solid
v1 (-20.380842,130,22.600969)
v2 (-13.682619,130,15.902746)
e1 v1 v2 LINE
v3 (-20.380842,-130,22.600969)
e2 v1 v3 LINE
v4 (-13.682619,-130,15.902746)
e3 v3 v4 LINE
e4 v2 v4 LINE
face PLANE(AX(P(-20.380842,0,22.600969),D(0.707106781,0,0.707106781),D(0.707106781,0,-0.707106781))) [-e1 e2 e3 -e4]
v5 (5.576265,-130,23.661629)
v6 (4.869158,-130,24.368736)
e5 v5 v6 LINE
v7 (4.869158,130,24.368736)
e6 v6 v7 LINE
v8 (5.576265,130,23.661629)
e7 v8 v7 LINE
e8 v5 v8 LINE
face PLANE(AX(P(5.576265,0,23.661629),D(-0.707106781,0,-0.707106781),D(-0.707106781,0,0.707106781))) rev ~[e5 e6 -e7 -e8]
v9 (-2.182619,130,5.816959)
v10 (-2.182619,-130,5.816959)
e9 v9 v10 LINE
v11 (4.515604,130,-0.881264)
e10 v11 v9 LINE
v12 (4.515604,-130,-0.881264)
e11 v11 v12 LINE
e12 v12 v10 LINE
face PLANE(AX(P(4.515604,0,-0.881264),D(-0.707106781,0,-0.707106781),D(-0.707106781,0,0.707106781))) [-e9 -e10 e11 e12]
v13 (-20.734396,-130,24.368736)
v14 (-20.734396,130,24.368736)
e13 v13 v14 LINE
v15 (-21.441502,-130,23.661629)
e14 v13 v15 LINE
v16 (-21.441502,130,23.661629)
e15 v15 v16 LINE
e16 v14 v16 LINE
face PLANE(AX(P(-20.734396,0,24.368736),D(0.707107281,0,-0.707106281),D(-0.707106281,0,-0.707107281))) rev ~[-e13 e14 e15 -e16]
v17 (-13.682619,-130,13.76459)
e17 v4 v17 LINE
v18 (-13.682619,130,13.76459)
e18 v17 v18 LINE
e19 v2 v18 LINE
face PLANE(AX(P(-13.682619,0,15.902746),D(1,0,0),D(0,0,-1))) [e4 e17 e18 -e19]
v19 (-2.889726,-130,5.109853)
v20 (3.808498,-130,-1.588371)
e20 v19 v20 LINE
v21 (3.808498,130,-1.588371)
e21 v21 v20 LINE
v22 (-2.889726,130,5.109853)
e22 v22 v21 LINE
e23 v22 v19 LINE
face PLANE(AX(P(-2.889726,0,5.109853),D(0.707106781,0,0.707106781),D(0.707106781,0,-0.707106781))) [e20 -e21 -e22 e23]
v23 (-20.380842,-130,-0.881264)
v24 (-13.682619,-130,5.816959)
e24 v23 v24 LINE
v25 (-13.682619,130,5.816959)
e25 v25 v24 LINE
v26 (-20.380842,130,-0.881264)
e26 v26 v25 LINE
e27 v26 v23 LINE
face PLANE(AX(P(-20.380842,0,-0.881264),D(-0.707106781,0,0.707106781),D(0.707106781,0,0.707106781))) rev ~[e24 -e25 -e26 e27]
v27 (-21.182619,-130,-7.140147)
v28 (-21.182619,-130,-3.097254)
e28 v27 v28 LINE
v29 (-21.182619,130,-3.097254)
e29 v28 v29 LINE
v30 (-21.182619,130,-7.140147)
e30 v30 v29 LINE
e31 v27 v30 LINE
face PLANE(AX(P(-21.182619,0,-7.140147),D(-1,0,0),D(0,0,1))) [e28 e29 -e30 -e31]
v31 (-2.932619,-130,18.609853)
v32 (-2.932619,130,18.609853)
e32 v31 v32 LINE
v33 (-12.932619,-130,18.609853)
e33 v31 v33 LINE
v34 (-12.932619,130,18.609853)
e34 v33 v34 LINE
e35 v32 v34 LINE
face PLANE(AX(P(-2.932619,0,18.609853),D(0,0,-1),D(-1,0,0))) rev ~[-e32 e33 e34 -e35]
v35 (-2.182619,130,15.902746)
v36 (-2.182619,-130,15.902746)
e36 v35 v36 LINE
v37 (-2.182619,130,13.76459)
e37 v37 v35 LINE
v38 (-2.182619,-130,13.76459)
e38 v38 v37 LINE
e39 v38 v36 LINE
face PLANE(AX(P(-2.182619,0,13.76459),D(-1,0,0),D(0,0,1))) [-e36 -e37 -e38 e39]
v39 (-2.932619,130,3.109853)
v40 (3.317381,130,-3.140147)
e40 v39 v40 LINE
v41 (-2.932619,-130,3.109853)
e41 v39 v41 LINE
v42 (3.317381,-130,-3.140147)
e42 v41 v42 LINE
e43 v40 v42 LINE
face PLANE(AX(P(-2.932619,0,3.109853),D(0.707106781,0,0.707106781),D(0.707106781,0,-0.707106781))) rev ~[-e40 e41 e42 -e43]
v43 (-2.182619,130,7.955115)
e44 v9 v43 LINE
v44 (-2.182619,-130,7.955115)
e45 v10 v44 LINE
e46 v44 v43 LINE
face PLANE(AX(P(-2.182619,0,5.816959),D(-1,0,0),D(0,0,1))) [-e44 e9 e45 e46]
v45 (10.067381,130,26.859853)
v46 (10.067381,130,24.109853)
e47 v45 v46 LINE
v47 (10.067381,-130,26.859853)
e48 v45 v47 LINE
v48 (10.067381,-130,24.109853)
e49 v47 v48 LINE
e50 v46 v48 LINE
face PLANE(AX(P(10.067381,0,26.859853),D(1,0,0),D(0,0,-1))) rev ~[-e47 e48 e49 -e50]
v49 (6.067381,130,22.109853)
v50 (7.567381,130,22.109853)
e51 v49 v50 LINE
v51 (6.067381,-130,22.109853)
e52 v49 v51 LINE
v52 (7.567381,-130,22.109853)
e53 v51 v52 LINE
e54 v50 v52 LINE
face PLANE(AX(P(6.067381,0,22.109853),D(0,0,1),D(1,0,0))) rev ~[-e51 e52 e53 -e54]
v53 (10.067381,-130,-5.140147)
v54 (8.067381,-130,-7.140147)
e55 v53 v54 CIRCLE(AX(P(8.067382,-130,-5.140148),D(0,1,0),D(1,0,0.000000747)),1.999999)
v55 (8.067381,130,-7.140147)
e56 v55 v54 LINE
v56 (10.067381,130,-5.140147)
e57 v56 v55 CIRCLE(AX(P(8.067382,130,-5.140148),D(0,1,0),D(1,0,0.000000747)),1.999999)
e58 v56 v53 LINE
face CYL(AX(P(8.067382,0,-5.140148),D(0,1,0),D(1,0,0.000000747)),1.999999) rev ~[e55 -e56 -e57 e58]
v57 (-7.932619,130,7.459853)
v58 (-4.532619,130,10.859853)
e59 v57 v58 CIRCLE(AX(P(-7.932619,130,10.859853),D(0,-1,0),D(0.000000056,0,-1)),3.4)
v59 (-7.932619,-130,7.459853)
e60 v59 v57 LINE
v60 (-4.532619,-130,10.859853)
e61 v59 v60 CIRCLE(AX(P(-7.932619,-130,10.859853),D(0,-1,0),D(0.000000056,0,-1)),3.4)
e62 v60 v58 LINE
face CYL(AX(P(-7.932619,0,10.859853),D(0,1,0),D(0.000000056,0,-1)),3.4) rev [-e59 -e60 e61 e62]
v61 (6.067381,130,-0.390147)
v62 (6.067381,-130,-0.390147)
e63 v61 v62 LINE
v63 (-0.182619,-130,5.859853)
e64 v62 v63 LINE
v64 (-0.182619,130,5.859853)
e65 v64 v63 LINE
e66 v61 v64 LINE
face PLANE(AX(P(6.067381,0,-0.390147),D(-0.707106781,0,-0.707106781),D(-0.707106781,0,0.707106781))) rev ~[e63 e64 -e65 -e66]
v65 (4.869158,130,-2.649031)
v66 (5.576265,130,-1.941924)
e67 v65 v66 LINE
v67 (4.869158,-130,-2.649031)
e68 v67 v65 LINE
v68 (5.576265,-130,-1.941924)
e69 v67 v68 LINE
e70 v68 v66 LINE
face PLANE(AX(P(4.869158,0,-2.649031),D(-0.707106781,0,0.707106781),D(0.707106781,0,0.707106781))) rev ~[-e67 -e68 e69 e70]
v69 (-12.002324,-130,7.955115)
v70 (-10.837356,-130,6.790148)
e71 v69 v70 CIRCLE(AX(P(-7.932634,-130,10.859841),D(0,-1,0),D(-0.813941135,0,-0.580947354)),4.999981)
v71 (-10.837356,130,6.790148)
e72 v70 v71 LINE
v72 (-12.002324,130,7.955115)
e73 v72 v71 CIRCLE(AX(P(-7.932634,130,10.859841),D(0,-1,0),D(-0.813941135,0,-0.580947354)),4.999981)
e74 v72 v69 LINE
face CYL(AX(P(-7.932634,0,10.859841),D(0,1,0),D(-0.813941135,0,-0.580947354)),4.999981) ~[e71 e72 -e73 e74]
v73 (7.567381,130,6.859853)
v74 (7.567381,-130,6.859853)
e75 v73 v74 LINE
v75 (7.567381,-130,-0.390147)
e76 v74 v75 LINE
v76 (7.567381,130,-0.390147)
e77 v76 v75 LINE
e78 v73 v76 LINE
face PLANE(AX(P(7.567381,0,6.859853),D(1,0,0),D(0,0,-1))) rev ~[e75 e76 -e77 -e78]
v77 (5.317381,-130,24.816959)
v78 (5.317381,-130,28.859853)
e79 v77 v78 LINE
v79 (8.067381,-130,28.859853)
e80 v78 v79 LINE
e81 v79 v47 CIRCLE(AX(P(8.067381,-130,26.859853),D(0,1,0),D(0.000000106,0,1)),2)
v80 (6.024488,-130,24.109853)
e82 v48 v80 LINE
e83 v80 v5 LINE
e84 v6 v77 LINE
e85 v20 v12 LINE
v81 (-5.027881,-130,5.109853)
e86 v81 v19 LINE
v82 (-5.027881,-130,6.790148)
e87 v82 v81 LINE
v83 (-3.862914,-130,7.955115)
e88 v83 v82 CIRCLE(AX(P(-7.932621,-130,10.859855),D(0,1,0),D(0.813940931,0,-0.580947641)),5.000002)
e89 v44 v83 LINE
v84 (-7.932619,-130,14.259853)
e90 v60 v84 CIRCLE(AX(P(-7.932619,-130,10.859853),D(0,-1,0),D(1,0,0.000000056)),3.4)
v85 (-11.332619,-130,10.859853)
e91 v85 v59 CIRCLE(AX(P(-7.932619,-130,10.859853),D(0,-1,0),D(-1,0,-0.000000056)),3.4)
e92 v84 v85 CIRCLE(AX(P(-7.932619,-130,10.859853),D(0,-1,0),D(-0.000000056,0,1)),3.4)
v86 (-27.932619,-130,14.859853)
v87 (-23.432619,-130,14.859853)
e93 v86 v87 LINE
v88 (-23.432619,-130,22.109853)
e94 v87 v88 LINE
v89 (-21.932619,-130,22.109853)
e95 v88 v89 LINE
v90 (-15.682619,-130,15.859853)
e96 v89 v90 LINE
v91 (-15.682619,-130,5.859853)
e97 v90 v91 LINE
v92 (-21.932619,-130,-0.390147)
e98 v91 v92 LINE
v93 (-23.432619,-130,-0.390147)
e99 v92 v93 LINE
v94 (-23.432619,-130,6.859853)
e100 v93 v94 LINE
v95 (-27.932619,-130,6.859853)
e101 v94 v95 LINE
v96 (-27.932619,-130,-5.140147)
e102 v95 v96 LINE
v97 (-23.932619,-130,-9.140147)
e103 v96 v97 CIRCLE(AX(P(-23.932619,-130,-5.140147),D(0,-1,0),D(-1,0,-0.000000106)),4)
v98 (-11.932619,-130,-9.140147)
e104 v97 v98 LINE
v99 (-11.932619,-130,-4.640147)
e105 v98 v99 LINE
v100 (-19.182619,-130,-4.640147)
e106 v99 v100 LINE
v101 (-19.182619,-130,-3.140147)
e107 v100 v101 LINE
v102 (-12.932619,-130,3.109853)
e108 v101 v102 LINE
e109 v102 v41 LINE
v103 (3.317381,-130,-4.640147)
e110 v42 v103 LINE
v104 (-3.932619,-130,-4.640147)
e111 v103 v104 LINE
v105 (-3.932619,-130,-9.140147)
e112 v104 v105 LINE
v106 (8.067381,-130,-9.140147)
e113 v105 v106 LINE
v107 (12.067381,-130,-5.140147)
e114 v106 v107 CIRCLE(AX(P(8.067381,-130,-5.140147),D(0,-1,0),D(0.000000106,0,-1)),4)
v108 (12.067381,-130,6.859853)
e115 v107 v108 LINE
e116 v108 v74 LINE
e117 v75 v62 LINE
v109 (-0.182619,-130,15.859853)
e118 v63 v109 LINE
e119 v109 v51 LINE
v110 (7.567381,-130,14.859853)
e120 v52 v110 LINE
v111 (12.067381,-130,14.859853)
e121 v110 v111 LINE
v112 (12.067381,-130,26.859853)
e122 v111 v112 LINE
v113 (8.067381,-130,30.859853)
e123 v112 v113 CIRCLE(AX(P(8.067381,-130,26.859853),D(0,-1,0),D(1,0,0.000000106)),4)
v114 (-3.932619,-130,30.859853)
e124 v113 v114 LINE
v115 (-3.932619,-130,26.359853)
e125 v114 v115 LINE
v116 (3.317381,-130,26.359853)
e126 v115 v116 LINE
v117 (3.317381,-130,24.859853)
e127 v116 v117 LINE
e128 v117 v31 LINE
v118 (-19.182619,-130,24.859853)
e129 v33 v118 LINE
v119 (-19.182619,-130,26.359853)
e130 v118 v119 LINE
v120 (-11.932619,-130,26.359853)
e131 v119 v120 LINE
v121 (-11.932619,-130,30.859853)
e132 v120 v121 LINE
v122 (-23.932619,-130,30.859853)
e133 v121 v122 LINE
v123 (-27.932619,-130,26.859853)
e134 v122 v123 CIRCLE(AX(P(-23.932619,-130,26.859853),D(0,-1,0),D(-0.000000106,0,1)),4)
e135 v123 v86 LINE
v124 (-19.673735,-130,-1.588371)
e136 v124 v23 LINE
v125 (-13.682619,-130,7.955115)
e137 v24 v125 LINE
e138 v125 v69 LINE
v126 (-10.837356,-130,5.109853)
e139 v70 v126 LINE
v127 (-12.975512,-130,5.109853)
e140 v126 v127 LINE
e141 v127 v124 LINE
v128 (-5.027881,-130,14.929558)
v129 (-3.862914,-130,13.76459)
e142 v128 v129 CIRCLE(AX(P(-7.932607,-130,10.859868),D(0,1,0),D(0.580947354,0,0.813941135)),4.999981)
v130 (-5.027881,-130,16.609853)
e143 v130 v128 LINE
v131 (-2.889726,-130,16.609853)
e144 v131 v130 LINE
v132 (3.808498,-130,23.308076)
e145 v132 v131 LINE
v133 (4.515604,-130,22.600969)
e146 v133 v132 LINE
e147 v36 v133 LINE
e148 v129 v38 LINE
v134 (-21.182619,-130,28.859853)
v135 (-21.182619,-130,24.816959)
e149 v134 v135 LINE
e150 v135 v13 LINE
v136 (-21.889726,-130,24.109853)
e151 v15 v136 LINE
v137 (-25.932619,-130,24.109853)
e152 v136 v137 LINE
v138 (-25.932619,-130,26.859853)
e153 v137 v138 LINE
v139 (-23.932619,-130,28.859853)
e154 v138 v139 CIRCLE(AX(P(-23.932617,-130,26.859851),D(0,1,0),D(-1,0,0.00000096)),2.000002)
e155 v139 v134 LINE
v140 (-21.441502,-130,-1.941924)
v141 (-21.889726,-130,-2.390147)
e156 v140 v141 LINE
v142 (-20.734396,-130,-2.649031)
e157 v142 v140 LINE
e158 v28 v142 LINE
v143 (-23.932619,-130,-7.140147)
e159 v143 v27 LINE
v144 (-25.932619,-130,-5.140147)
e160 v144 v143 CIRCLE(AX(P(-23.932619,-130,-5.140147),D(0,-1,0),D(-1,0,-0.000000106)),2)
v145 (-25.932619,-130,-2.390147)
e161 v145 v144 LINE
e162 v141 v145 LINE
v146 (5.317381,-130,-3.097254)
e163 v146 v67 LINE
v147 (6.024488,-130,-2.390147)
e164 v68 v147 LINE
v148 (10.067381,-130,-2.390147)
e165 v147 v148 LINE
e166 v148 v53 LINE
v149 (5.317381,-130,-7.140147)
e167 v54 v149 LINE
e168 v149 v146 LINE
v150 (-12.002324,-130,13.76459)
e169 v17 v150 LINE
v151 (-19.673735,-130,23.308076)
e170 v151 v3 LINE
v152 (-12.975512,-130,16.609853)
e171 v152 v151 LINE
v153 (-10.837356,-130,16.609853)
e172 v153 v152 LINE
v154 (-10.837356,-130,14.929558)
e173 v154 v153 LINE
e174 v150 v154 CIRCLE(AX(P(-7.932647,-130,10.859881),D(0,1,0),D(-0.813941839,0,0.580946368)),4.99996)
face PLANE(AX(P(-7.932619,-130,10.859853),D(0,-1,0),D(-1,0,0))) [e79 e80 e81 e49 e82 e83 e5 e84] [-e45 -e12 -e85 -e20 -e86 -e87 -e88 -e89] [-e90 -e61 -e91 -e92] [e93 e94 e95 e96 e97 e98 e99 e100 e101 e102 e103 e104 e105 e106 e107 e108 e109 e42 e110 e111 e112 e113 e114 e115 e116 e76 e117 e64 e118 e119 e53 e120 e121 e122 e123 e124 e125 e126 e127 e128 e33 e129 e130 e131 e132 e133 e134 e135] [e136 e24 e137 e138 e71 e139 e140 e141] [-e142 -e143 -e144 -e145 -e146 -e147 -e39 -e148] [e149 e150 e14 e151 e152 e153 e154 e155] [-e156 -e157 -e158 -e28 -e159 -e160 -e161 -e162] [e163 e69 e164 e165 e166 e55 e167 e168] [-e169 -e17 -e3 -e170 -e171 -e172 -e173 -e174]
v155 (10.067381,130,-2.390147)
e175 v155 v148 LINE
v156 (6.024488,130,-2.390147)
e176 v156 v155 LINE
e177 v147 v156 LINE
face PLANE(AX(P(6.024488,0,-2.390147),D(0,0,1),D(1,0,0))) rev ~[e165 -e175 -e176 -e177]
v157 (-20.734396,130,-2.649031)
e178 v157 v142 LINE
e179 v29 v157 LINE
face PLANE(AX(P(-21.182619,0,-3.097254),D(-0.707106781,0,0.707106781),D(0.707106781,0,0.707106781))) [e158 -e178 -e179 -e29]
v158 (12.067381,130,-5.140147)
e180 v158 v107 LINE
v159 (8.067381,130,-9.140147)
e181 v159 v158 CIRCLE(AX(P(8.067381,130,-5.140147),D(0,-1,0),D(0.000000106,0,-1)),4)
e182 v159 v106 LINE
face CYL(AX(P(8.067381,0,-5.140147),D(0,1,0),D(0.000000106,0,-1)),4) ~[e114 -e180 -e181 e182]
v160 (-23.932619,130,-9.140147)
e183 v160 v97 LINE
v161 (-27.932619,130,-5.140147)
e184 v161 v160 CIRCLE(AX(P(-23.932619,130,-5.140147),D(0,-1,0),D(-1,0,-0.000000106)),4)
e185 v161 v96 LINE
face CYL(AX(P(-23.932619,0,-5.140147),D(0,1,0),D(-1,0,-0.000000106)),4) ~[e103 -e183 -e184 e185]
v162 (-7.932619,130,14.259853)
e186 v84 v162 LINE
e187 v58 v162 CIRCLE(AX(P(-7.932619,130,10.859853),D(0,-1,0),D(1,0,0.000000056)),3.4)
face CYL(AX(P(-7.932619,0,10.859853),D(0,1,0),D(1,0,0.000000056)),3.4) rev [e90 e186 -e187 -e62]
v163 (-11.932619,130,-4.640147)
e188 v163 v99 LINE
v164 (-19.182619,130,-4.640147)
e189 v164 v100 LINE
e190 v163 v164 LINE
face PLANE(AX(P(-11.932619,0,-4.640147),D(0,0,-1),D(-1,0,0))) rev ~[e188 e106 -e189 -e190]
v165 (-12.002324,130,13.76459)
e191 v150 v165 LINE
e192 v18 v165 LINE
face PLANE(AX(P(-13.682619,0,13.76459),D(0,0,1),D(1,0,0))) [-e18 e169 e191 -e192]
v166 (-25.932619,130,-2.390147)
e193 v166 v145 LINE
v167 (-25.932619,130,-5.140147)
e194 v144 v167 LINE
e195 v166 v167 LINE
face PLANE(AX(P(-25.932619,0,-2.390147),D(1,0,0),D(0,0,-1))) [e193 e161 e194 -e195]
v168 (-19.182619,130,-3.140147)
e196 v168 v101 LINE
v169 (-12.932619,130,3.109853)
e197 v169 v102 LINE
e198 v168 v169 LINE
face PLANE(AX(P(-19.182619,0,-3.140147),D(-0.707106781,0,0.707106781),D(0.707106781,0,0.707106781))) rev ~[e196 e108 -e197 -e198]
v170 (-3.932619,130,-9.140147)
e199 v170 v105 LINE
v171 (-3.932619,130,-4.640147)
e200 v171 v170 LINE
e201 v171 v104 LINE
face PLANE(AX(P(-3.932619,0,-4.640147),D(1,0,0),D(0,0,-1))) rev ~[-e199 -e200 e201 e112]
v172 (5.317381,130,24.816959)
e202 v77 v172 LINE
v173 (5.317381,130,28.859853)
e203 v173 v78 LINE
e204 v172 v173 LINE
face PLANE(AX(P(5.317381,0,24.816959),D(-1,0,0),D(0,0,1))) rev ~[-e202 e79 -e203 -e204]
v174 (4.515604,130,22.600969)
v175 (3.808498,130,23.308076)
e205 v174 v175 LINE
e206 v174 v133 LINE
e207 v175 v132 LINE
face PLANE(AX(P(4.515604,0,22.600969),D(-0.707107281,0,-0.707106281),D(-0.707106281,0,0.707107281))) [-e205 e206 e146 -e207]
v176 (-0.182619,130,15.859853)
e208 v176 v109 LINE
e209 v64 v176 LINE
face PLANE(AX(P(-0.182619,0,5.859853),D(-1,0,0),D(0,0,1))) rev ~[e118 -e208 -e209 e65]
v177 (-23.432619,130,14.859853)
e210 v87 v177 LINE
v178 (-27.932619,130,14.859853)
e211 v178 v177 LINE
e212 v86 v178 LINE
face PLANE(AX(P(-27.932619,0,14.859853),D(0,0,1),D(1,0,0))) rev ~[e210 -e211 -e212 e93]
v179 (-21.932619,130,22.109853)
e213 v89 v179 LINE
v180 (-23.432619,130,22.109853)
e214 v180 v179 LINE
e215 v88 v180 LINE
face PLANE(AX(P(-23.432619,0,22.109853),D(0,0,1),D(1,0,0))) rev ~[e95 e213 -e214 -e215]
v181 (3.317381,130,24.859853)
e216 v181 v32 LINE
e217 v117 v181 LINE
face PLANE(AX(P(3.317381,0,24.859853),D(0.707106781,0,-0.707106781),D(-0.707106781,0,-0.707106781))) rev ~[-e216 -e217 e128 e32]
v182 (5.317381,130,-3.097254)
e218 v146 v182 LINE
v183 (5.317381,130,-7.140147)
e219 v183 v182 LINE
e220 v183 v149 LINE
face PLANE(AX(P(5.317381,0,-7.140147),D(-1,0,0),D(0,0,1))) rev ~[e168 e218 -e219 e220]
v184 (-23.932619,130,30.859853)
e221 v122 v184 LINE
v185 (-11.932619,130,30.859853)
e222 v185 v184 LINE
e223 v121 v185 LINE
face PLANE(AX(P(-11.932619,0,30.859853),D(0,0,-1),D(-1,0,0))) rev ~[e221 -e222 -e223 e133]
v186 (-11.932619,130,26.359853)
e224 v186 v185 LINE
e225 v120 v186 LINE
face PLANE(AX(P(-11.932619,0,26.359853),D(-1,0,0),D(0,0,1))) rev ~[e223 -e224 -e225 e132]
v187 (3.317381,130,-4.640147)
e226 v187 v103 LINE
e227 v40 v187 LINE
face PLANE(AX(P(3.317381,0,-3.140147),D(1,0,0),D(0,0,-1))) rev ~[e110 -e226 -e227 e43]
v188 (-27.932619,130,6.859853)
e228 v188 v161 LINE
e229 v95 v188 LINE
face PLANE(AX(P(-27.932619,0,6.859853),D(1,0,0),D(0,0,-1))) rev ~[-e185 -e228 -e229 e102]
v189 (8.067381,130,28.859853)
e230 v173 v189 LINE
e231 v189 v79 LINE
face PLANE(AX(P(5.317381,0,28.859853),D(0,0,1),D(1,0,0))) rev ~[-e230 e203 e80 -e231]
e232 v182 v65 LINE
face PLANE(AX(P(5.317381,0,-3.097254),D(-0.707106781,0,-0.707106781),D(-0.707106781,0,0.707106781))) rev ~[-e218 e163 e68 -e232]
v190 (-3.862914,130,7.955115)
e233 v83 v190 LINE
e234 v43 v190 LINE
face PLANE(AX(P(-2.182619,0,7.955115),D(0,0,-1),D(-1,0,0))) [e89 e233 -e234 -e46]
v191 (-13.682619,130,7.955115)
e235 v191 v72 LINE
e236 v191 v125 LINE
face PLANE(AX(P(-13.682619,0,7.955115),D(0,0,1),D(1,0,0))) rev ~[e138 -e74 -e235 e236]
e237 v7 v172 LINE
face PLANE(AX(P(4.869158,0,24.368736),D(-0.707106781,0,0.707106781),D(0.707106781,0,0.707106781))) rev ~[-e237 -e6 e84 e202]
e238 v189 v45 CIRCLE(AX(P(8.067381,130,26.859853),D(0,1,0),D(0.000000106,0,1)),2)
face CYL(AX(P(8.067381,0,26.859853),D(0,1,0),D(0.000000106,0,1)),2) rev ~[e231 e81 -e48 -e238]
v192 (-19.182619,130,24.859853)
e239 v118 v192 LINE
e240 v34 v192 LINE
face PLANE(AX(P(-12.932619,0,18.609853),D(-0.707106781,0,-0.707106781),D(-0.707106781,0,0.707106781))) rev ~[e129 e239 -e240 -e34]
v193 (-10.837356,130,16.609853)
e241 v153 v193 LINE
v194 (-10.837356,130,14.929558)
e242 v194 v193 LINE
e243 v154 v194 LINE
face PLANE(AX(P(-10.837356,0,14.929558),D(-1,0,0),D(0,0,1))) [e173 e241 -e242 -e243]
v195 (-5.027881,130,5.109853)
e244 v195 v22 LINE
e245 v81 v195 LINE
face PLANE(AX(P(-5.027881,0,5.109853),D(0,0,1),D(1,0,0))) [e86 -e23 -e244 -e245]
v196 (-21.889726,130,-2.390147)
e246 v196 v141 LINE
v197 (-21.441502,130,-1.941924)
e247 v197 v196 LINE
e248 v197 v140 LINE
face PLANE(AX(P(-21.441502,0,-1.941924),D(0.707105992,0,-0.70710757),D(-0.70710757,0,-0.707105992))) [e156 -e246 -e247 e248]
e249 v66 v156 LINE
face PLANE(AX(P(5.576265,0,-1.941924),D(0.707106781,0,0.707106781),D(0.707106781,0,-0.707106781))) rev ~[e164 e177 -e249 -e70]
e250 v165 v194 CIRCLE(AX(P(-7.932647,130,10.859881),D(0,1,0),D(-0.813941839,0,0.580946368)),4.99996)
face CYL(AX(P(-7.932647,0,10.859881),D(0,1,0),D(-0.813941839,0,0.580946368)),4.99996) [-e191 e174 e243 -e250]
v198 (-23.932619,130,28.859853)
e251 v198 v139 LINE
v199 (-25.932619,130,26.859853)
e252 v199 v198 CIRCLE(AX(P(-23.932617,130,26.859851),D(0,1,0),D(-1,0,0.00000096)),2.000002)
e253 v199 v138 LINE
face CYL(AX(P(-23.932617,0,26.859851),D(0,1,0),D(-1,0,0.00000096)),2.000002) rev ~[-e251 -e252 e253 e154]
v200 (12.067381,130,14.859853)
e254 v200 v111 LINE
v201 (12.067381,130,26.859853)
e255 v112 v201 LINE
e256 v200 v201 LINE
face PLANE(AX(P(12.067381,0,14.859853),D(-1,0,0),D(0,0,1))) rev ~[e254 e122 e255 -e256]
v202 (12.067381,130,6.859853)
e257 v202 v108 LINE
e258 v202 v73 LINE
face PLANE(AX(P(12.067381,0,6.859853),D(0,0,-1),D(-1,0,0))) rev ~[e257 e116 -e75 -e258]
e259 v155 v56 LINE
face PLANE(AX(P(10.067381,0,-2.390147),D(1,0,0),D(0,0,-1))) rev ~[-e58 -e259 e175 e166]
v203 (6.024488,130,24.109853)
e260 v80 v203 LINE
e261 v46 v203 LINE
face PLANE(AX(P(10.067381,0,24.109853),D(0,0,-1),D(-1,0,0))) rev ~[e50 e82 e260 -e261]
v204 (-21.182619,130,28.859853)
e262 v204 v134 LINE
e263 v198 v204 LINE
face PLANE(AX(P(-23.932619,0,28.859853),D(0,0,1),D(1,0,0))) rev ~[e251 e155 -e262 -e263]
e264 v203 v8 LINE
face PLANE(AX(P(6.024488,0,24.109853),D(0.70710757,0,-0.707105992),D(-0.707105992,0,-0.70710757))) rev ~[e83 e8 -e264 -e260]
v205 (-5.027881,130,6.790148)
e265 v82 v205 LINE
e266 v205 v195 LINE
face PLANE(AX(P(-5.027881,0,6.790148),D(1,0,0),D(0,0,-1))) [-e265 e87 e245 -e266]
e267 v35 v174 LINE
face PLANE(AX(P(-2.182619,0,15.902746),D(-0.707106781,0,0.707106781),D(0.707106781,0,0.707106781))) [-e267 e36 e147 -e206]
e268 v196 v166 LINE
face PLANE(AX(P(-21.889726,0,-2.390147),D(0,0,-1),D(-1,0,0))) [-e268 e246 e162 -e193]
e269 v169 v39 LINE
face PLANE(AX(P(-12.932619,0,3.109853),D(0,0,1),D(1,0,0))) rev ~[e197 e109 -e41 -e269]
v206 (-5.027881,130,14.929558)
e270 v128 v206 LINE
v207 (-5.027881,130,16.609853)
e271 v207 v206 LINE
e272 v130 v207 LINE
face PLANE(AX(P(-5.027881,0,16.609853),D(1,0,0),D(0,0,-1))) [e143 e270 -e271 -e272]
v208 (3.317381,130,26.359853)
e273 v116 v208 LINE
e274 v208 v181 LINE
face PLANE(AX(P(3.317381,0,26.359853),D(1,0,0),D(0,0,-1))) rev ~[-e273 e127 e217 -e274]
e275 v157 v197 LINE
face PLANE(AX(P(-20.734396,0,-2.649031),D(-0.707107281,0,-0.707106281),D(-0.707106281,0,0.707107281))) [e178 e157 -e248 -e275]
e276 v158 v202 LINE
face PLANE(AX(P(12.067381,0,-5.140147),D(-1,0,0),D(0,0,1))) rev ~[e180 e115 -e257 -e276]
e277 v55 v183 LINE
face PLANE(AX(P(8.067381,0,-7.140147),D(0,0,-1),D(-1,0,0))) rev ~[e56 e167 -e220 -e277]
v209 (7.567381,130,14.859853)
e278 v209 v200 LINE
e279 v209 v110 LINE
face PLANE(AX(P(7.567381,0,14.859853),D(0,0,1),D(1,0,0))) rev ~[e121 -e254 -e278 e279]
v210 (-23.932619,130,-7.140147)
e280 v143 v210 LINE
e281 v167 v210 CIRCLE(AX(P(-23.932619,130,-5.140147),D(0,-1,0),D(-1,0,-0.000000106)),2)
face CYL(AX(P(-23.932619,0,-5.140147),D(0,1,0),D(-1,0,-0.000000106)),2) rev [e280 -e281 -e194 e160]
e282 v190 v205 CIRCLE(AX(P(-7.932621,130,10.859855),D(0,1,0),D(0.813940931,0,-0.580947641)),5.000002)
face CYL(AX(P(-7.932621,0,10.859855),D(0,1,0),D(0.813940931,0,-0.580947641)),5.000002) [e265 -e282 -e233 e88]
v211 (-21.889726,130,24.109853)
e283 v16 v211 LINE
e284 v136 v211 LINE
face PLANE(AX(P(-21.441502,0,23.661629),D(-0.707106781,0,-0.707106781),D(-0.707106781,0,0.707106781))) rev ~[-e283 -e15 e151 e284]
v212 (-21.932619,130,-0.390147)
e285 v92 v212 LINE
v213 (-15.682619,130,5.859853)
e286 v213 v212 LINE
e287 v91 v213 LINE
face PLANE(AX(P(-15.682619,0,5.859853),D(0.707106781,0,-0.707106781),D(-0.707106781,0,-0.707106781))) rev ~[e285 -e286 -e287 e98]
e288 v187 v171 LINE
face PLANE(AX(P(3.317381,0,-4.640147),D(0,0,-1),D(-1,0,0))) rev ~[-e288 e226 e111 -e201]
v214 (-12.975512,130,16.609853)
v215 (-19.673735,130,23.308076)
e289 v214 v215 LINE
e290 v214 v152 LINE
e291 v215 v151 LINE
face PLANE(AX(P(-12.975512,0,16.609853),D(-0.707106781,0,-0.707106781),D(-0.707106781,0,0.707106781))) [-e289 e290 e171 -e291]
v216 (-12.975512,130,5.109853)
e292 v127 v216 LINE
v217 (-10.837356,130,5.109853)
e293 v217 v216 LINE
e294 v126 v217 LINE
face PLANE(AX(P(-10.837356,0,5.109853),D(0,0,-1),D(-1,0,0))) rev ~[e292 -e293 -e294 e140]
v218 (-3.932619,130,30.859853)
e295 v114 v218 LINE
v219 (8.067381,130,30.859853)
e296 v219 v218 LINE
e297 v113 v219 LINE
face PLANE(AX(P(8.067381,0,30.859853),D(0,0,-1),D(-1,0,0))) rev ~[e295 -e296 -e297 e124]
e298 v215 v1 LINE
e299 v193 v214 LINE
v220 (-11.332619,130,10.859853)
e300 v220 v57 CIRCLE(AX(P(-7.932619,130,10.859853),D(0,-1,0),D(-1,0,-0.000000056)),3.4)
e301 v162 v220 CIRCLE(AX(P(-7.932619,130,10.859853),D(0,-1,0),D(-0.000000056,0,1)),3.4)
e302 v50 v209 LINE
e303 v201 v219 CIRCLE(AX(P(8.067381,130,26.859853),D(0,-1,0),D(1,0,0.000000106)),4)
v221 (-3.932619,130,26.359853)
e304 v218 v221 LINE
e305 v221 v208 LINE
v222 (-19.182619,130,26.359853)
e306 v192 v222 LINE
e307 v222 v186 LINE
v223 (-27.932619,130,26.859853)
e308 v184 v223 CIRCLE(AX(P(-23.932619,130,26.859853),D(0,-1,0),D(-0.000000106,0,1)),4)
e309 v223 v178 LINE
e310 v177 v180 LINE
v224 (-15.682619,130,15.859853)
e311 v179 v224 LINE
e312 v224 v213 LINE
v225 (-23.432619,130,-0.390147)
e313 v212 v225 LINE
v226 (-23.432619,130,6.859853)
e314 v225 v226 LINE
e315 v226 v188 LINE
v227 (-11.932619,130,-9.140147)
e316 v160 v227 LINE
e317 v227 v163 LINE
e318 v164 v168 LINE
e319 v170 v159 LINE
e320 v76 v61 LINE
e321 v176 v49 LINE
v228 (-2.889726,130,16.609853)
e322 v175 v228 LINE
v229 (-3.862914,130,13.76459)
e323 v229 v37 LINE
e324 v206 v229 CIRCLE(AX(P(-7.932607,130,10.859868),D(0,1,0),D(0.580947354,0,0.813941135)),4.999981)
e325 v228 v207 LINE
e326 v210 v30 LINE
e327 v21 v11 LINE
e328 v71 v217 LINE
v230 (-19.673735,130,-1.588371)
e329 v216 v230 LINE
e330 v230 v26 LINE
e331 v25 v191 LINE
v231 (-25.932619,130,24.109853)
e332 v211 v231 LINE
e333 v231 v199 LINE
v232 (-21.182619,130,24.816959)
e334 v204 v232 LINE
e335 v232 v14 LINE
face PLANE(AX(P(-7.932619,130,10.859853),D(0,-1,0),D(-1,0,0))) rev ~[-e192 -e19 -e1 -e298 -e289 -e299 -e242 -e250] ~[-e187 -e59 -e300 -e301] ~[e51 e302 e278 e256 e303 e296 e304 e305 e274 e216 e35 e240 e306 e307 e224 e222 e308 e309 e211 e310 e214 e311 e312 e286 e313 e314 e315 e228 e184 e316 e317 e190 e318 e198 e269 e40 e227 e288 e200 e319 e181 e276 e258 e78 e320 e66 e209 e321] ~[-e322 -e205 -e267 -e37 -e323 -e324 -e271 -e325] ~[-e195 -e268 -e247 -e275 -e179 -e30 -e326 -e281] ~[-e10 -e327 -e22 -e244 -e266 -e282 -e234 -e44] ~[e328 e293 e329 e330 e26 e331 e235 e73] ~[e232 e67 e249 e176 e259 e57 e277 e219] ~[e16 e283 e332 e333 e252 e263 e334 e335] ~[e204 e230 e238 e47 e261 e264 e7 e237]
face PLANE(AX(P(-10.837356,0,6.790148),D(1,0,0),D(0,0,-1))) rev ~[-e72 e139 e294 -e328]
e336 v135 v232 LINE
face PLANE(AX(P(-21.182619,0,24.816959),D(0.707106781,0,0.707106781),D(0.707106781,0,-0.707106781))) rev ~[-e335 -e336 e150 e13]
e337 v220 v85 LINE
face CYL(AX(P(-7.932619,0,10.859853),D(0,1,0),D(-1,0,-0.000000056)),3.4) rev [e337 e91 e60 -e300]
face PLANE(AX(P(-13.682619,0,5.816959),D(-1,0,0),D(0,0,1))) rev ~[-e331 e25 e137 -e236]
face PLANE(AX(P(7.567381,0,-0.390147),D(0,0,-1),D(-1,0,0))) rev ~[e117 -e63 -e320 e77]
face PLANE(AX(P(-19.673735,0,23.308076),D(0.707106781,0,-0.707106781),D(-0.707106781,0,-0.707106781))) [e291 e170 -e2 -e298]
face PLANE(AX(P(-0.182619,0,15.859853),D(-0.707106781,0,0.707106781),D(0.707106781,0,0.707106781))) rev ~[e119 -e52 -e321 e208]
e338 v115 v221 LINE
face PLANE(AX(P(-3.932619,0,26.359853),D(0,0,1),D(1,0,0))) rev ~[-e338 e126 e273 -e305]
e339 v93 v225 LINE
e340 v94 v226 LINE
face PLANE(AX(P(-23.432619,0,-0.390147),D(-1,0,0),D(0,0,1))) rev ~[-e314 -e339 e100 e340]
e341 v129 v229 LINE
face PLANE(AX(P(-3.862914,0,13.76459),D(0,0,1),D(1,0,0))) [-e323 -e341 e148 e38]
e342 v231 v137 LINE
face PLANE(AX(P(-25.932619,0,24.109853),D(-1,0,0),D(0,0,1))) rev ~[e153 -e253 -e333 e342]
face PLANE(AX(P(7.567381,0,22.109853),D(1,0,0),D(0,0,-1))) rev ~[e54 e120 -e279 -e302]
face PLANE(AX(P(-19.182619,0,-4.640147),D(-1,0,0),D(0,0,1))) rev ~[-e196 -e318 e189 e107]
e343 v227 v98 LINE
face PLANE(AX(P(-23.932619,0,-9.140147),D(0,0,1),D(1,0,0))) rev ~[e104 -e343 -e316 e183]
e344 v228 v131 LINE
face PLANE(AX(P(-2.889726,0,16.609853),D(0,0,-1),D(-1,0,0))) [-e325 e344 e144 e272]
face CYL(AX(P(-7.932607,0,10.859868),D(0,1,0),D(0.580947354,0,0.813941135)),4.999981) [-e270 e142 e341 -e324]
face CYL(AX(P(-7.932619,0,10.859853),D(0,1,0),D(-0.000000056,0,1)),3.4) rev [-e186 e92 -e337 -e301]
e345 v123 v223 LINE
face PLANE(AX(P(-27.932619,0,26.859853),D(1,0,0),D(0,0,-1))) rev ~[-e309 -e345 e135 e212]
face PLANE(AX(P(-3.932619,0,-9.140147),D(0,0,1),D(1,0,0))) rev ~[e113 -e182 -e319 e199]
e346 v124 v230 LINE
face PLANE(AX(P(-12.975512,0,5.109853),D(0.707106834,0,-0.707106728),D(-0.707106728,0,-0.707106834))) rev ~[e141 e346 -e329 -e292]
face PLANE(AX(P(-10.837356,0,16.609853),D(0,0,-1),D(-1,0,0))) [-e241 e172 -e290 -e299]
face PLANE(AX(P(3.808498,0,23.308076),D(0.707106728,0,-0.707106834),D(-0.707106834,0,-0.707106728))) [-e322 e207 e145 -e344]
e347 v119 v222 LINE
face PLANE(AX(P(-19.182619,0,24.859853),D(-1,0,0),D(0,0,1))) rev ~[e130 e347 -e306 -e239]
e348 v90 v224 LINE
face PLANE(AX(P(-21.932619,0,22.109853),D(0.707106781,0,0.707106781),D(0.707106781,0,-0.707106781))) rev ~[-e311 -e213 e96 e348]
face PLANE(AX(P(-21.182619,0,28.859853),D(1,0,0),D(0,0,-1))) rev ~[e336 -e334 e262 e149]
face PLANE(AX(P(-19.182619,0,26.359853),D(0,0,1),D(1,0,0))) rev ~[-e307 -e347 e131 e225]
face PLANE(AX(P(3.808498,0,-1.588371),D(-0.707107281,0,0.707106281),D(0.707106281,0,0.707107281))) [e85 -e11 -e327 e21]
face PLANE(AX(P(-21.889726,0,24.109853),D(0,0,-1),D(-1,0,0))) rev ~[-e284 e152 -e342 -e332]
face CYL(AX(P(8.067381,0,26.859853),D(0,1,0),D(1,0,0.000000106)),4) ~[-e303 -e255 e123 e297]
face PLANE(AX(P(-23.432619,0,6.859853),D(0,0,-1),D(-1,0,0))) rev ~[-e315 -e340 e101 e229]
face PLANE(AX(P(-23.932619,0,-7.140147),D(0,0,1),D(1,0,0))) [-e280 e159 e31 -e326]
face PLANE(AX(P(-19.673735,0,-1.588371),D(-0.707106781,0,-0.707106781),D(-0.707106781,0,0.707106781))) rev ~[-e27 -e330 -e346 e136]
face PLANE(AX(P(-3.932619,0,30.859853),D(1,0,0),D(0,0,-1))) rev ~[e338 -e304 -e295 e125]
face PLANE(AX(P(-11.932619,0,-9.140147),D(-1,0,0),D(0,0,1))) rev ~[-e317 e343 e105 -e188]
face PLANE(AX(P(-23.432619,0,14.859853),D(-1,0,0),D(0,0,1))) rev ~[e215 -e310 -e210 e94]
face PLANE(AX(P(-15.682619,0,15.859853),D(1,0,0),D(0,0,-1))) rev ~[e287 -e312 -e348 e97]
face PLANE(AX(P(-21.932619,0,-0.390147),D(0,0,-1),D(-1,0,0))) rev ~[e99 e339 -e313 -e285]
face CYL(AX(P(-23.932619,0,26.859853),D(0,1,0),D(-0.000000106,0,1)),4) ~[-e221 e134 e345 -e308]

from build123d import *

# Parameters (mm, degrees)
BOSS_EXTRUDE1_DEPTH = 130


with BuildPart() as part:
    # Sketch1 → Boss-Extrude1 (new body, symmetric)
    with BuildSketch(Plane(origin=(0, 0, 0), x_dir=(1, 0, 0), z_dir=(0, 1, 0))):
        with BuildLine():
            Line((-27.932619, -6.859853), (-27.932619, 5.140147))
            ThreePointArc((-27.932619, 5.140147), (-26.761046, 7.968574), (-23.932619, 9.140147))
            Line((-23.932619, 9.140147), (-11.932619, 9.140147))
            Line((-11.932619, 9.140147), (-11.932619, 4.640147))
            Line((-11.932619, 4.640147), (-19.182619, 4.640147))
            Line((-19.182619, 4.640147), (-19.182619, 3.140147))
            Line((-19.182619, 3.140147), (-12.932619, -3.109853))
            Line((-12.932619, -3.109853), (-7.932619, -3.109853))
            Line((-7.932619, -3.109853), (-2.932619, -3.109853))
            Line((-2.932619, -3.109853), (3.317381, 3.140147))
            Line((3.317381, 3.140147), (3.317381, 4.640147))
            Line((3.317381, 4.640147), (-3.932619, 4.640147))
            Line((-3.932619, 4.640147), (-3.932619, 9.140147))
            Line((-3.932619, 9.140147), (8.067381, 9.140147))
            ThreePointArc((8.067381, 9.140147), (10.895808, 7.968574), (12.067381, 5.140147))
            Line((12.067381, 5.140147), (12.067381, -6.859853))
            Line((12.067381, -6.859853), (7.567381, -6.859853))
            Line((7.567381, -6.859853), (7.567381, 0.390147))
            Line((7.567381, 0.390147), (6.067381, 0.390147))
            Line((6.067381, 0.390147), (-0.182619, -5.859853))
            Line((-0.182619, -5.859853), (-0.182619, -10.859853))
            Line((-0.182619, -10.859853), (-0.182619, -15.859853))
            Line((-0.182619, -15.859853), (6.067381, -22.109853))
            Line((6.067381, -22.109853), (7.567381, -22.109853))
            Line((7.567381, -22.109853), (7.567381, -14.859853))
            Line((7.567381, -14.859853), (12.067381, -14.859853))
            Line((12.067381, -14.859853), (12.067381, -26.859853))
            ThreePointArc((12.067381, -26.859853), (10.895808, -29.68828), (8.067381, -30.859853))
            Line((8.067381, -30.859853), (-3.932619, -30.859853))
            Line((-3.932619, -30.859853), (-3.932619, -26.359853))
            Line((-3.932619, -26.359853), (3.317381, -26.359853))
            Line((3.317381, -26.359853), (3.317381, -24.859853))
            Line((3.317381, -24.859853), (-2.932619, -18.609853))
            Line((-2.932619, -18.609853), (-7.932619, -18.609853))
            Line((-7.932619, -18.609853), (-12.932619, -18.609853))
            Line((-12.932619, -18.609853), (-19.182619, -24.859853))
            Line((-19.182619, -24.859853), (-19.182619, -26.359853))
            Line((-19.182619, -26.359853), (-11.932619, -26.359853))
            Line((-11.932619, -26.359853), (-11.932619, -30.859853))
            Line((-11.932619, -30.859853), (-23.932619, -30.859853))
            ThreePointArc((-23.932619, -30.859853), (-26.761046, -29.68828), (-27.932619, -26.859853))
            Line((-27.932619, -26.859853), (-27.932619, -14.859853))
            Line((-27.932619, -14.859853), (-23.432619, -14.859853))
            Line((-23.432619, -14.859853), (-23.432619, -22.109853))
            Line((-23.432619, -22.109853), (-21.932619, -22.109853))
            Line((-21.932619, -22.109853), (-15.682619, -15.859853))
            Line((-15.682619, -15.859853), (-15.682619, -10.859853))
            Line((-15.682619, -10.859853), (-15.682619, -5.859853))
            Line((-15.682619, -5.859853), (-21.932619, 0.390147))
            Line((-21.932619, 0.390147), (-23.432619, 0.390147))
            Line((-23.432619, 0.390147), (-23.432619, -6.859853))
            Line((-23.432619, -6.859853), (-27.932619, -6.859853))
        make_face()
        with BuildLine():
            Line((-25.932619, 2.390147), (-25.932619, 5.140147))
            ThreePointArc((-25.932619, 5.140147), (-25.346832, 6.554361), (-23.932619, 7.140147))
            Line((-23.932619, 7.140147), (-21.182619, 7.140147))
            Line((-21.182619, 7.140147), (-21.182619, 3.097254))
            Line((-21.182619, 3.097254), (-20.734396, 2.649031))
            Line((-20.734396, 2.649031), (-21.441502, 1.941924))
            Line((-21.441502, 1.941924), (-21.889726, 2.390147))
            Line((-21.889726, 2.390147), (-25.932619, 2.390147))
        make_face(mode=Mode.SUBTRACT)
        with BuildLine():
            Line((-20.380842, 0.881264), (-13.682619, -5.816959))
            Line((-13.682619, -5.816959), (-13.682619, -7.955115))
            Line((-13.682619, -7.955115), (-13.182619, -7.955115))
            Line((-13.182619, -7.955115), (-12.002324, -7.955115))
            ThreePointArc((-12.002324, -7.955115), (-11.468153, -7.324319), (-10.837356, -6.790148))
            Line((-10.837356, -6.790148), (-10.837356, -5.609853))
            Line((-10.837356, -5.609853), (-10.837356, -5.109853))
            Line((-10.837356, -5.109853), (-12.975512, -5.109853))
            Line((-12.975512, -5.109853), (-19.673735, 1.588371))
            Line((-19.673735, 1.588371), (-20.380842, 0.881264))
        make_face(mode=Mode.SUBTRACT)
        with BuildLine():
            Line((10.067381, 2.390147), (10.067381, 5.140147))
            ThreePointArc((10.067381, 5.140147), (9.481595, 6.554361), (8.067381, 7.140147))
            Line((8.067381, 7.140147), (5.317381, 7.140147))
            Line((5.317381, 7.140147), (5.317381, 3.097254))
            Line((5.317381, 3.097254), (4.869158, 2.649031))
            Line((4.869158, 2.649031), (5.576265, 1.941924))
            Line((5.576265, 1.941924), (6.024488, 2.390147))
            Line((6.024488, 2.390147), (10.067381, 2.390147))
        make_face(mode=Mode.SUBTRACT)
        with BuildLine():
            Line((-2.182619, -5.816959), (-2.182619, -7.955115))
            Line((-2.182619, -7.955115), (-2.682619, -7.955115))
            Line((-2.682619, -7.955115), (-3.862914, -7.955115))
            ThreePointArc((-3.862914, -7.955115), (-4.397085, -7.324319), (-5.027881, -6.790148))
            Line((-5.027881, -6.790148), (-5.027881, -5.609853))
            Line((-5.027881, -5.609853), (-5.027881, -5.109853))
            Line((-5.027881, -5.109853), (-2.889726, -5.109853))
            Line((-2.889726, -5.109853), (3.808498, 1.588371))
            Line((3.808498, 1.588371), (4.515604, 0.881264))
            Line((4.515604, 0.881264), (-2.182619, -5.816959))
        make_face(mode=Mode.SUBTRACT)
        with BuildLine():
            Line((5.317381, -28.859853), (8.067381, -28.859853))
            ThreePointArc((8.067381, -28.859853), (9.481595, -28.274066), (10.067381, -26.859853))
            Line((10.067381, -26.859853), (10.067381, -24.109853))
            Line((10.067381, -24.109853), (6.024488, -24.109853))
            Line((6.024488, -24.109853), (5.576265, -23.661629))
            Line((5.576265, -23.661629), (4.869158, -24.368736))
            Line((4.869158, -24.368736), (5.317381, -24.816959))
            Line((5.317381, -24.816959), (5.317381, -28.859853))
        make_face(mode=Mode.SUBTRACT)
        with BuildLine():
            Line((-2.889726, -16.609853), (-5.027881, -16.609853))
            Line((-5.027881, -16.609853), (-5.027881, -16.109853))
            Line((-5.027881, -16.109853), (-5.027881, -14.929558))
            ThreePointArc((-5.027881, -14.929558), (-4.397085, -14.395387), (-3.862914, -13.76459))
            Line((-3.862914, -13.76459), (-2.682619, -13.76459))
            Line((-2.682619, -13.76459), (-2.182619, -13.76459))
            Line((-2.182619, -13.76459), (-2.182619, -15.902746))
            Line((-2.182619, -15.902746), (4.515604, -22.600969))
            Line((4.515604, -22.600969), (3.808498, -23.308076))
            Line((3.808498, -23.308076), (-2.889726, -16.609853))
        make_face(mode=Mode.SUBTRACT)
        with BuildLine():
            Line((-25.932619, -24.109853), (-25.932619, -26.859853))
            ThreePointArc((-25.932619, -26.859853), (-25.346832, -28.274066), (-23.932619, -28.859853))
            Line((-23.932619, -28.859853), (-21.182619, -28.859853))
            Line((-21.182619, -28.859853), (-21.182619, -24.816959))
            Line((-21.182619, -24.816959), (-20.734396, -24.368736))
            Line((-20.734396, -24.368736), (-21.441502, -23.661629))
            Line((-21.441502, -23.661629), (-21.889726, -24.109853))
            Line((-21.889726, -24.109853), (-25.932619, -24.109853))
        make_face(mode=Mode.SUBTRACT)
        with BuildLine():
            Line((-13.682619, -15.902746), (-13.682619, -13.76459))
            Line((-13.682619, -13.76459), (-13.182619, -13.76459))
            Line((-13.182619, -13.76459), (-12.002324, -13.76459))
            ThreePointArc((-12.002324, -13.76459), (-11.468153, -14.395387), (-10.837356, -14.929558))
            Line((-10.837356, -14.929558), (-10.837356, -16.109853))
            Line((-10.837356, -16.109853), (-10.837356, -16.609853))
            Line((-10.837356, -16.609853), (-12.975512, -16.609853))
            Line((-12.975512, -16.609853), (-19.673735, -23.308076))
            Line((-19.673735, -23.308076), (-20.380842, -22.600969))
            Line((-20.380842, -22.600969), (-13.682619, -15.902746))
        make_face(mode=Mode.SUBTRACT)
        with BuildLine():
            ThreePointArc((-11.332619, -10.859853), (-10.336782, -8.45569), (-7.932619, -7.459853))
            ThreePointArc((-7.932619, -7.459853), (-5.528456, -8.45569), (-4.532619, -10.859853))
            ThreePointArc((-4.532619, -10.859853), (-5.528456, -13.264016), (-7.932619, -14.259853))
            ThreePointArc((-7.932619, -14.259853), (-10.336782, -13.264016), (-11.332619, -10.859853))
        make_face(mode=Mode.SUBTRACT)
    extrude(amount=BOSS_EXTRUDE1_DEPTH, both=True)


solid = part.part
